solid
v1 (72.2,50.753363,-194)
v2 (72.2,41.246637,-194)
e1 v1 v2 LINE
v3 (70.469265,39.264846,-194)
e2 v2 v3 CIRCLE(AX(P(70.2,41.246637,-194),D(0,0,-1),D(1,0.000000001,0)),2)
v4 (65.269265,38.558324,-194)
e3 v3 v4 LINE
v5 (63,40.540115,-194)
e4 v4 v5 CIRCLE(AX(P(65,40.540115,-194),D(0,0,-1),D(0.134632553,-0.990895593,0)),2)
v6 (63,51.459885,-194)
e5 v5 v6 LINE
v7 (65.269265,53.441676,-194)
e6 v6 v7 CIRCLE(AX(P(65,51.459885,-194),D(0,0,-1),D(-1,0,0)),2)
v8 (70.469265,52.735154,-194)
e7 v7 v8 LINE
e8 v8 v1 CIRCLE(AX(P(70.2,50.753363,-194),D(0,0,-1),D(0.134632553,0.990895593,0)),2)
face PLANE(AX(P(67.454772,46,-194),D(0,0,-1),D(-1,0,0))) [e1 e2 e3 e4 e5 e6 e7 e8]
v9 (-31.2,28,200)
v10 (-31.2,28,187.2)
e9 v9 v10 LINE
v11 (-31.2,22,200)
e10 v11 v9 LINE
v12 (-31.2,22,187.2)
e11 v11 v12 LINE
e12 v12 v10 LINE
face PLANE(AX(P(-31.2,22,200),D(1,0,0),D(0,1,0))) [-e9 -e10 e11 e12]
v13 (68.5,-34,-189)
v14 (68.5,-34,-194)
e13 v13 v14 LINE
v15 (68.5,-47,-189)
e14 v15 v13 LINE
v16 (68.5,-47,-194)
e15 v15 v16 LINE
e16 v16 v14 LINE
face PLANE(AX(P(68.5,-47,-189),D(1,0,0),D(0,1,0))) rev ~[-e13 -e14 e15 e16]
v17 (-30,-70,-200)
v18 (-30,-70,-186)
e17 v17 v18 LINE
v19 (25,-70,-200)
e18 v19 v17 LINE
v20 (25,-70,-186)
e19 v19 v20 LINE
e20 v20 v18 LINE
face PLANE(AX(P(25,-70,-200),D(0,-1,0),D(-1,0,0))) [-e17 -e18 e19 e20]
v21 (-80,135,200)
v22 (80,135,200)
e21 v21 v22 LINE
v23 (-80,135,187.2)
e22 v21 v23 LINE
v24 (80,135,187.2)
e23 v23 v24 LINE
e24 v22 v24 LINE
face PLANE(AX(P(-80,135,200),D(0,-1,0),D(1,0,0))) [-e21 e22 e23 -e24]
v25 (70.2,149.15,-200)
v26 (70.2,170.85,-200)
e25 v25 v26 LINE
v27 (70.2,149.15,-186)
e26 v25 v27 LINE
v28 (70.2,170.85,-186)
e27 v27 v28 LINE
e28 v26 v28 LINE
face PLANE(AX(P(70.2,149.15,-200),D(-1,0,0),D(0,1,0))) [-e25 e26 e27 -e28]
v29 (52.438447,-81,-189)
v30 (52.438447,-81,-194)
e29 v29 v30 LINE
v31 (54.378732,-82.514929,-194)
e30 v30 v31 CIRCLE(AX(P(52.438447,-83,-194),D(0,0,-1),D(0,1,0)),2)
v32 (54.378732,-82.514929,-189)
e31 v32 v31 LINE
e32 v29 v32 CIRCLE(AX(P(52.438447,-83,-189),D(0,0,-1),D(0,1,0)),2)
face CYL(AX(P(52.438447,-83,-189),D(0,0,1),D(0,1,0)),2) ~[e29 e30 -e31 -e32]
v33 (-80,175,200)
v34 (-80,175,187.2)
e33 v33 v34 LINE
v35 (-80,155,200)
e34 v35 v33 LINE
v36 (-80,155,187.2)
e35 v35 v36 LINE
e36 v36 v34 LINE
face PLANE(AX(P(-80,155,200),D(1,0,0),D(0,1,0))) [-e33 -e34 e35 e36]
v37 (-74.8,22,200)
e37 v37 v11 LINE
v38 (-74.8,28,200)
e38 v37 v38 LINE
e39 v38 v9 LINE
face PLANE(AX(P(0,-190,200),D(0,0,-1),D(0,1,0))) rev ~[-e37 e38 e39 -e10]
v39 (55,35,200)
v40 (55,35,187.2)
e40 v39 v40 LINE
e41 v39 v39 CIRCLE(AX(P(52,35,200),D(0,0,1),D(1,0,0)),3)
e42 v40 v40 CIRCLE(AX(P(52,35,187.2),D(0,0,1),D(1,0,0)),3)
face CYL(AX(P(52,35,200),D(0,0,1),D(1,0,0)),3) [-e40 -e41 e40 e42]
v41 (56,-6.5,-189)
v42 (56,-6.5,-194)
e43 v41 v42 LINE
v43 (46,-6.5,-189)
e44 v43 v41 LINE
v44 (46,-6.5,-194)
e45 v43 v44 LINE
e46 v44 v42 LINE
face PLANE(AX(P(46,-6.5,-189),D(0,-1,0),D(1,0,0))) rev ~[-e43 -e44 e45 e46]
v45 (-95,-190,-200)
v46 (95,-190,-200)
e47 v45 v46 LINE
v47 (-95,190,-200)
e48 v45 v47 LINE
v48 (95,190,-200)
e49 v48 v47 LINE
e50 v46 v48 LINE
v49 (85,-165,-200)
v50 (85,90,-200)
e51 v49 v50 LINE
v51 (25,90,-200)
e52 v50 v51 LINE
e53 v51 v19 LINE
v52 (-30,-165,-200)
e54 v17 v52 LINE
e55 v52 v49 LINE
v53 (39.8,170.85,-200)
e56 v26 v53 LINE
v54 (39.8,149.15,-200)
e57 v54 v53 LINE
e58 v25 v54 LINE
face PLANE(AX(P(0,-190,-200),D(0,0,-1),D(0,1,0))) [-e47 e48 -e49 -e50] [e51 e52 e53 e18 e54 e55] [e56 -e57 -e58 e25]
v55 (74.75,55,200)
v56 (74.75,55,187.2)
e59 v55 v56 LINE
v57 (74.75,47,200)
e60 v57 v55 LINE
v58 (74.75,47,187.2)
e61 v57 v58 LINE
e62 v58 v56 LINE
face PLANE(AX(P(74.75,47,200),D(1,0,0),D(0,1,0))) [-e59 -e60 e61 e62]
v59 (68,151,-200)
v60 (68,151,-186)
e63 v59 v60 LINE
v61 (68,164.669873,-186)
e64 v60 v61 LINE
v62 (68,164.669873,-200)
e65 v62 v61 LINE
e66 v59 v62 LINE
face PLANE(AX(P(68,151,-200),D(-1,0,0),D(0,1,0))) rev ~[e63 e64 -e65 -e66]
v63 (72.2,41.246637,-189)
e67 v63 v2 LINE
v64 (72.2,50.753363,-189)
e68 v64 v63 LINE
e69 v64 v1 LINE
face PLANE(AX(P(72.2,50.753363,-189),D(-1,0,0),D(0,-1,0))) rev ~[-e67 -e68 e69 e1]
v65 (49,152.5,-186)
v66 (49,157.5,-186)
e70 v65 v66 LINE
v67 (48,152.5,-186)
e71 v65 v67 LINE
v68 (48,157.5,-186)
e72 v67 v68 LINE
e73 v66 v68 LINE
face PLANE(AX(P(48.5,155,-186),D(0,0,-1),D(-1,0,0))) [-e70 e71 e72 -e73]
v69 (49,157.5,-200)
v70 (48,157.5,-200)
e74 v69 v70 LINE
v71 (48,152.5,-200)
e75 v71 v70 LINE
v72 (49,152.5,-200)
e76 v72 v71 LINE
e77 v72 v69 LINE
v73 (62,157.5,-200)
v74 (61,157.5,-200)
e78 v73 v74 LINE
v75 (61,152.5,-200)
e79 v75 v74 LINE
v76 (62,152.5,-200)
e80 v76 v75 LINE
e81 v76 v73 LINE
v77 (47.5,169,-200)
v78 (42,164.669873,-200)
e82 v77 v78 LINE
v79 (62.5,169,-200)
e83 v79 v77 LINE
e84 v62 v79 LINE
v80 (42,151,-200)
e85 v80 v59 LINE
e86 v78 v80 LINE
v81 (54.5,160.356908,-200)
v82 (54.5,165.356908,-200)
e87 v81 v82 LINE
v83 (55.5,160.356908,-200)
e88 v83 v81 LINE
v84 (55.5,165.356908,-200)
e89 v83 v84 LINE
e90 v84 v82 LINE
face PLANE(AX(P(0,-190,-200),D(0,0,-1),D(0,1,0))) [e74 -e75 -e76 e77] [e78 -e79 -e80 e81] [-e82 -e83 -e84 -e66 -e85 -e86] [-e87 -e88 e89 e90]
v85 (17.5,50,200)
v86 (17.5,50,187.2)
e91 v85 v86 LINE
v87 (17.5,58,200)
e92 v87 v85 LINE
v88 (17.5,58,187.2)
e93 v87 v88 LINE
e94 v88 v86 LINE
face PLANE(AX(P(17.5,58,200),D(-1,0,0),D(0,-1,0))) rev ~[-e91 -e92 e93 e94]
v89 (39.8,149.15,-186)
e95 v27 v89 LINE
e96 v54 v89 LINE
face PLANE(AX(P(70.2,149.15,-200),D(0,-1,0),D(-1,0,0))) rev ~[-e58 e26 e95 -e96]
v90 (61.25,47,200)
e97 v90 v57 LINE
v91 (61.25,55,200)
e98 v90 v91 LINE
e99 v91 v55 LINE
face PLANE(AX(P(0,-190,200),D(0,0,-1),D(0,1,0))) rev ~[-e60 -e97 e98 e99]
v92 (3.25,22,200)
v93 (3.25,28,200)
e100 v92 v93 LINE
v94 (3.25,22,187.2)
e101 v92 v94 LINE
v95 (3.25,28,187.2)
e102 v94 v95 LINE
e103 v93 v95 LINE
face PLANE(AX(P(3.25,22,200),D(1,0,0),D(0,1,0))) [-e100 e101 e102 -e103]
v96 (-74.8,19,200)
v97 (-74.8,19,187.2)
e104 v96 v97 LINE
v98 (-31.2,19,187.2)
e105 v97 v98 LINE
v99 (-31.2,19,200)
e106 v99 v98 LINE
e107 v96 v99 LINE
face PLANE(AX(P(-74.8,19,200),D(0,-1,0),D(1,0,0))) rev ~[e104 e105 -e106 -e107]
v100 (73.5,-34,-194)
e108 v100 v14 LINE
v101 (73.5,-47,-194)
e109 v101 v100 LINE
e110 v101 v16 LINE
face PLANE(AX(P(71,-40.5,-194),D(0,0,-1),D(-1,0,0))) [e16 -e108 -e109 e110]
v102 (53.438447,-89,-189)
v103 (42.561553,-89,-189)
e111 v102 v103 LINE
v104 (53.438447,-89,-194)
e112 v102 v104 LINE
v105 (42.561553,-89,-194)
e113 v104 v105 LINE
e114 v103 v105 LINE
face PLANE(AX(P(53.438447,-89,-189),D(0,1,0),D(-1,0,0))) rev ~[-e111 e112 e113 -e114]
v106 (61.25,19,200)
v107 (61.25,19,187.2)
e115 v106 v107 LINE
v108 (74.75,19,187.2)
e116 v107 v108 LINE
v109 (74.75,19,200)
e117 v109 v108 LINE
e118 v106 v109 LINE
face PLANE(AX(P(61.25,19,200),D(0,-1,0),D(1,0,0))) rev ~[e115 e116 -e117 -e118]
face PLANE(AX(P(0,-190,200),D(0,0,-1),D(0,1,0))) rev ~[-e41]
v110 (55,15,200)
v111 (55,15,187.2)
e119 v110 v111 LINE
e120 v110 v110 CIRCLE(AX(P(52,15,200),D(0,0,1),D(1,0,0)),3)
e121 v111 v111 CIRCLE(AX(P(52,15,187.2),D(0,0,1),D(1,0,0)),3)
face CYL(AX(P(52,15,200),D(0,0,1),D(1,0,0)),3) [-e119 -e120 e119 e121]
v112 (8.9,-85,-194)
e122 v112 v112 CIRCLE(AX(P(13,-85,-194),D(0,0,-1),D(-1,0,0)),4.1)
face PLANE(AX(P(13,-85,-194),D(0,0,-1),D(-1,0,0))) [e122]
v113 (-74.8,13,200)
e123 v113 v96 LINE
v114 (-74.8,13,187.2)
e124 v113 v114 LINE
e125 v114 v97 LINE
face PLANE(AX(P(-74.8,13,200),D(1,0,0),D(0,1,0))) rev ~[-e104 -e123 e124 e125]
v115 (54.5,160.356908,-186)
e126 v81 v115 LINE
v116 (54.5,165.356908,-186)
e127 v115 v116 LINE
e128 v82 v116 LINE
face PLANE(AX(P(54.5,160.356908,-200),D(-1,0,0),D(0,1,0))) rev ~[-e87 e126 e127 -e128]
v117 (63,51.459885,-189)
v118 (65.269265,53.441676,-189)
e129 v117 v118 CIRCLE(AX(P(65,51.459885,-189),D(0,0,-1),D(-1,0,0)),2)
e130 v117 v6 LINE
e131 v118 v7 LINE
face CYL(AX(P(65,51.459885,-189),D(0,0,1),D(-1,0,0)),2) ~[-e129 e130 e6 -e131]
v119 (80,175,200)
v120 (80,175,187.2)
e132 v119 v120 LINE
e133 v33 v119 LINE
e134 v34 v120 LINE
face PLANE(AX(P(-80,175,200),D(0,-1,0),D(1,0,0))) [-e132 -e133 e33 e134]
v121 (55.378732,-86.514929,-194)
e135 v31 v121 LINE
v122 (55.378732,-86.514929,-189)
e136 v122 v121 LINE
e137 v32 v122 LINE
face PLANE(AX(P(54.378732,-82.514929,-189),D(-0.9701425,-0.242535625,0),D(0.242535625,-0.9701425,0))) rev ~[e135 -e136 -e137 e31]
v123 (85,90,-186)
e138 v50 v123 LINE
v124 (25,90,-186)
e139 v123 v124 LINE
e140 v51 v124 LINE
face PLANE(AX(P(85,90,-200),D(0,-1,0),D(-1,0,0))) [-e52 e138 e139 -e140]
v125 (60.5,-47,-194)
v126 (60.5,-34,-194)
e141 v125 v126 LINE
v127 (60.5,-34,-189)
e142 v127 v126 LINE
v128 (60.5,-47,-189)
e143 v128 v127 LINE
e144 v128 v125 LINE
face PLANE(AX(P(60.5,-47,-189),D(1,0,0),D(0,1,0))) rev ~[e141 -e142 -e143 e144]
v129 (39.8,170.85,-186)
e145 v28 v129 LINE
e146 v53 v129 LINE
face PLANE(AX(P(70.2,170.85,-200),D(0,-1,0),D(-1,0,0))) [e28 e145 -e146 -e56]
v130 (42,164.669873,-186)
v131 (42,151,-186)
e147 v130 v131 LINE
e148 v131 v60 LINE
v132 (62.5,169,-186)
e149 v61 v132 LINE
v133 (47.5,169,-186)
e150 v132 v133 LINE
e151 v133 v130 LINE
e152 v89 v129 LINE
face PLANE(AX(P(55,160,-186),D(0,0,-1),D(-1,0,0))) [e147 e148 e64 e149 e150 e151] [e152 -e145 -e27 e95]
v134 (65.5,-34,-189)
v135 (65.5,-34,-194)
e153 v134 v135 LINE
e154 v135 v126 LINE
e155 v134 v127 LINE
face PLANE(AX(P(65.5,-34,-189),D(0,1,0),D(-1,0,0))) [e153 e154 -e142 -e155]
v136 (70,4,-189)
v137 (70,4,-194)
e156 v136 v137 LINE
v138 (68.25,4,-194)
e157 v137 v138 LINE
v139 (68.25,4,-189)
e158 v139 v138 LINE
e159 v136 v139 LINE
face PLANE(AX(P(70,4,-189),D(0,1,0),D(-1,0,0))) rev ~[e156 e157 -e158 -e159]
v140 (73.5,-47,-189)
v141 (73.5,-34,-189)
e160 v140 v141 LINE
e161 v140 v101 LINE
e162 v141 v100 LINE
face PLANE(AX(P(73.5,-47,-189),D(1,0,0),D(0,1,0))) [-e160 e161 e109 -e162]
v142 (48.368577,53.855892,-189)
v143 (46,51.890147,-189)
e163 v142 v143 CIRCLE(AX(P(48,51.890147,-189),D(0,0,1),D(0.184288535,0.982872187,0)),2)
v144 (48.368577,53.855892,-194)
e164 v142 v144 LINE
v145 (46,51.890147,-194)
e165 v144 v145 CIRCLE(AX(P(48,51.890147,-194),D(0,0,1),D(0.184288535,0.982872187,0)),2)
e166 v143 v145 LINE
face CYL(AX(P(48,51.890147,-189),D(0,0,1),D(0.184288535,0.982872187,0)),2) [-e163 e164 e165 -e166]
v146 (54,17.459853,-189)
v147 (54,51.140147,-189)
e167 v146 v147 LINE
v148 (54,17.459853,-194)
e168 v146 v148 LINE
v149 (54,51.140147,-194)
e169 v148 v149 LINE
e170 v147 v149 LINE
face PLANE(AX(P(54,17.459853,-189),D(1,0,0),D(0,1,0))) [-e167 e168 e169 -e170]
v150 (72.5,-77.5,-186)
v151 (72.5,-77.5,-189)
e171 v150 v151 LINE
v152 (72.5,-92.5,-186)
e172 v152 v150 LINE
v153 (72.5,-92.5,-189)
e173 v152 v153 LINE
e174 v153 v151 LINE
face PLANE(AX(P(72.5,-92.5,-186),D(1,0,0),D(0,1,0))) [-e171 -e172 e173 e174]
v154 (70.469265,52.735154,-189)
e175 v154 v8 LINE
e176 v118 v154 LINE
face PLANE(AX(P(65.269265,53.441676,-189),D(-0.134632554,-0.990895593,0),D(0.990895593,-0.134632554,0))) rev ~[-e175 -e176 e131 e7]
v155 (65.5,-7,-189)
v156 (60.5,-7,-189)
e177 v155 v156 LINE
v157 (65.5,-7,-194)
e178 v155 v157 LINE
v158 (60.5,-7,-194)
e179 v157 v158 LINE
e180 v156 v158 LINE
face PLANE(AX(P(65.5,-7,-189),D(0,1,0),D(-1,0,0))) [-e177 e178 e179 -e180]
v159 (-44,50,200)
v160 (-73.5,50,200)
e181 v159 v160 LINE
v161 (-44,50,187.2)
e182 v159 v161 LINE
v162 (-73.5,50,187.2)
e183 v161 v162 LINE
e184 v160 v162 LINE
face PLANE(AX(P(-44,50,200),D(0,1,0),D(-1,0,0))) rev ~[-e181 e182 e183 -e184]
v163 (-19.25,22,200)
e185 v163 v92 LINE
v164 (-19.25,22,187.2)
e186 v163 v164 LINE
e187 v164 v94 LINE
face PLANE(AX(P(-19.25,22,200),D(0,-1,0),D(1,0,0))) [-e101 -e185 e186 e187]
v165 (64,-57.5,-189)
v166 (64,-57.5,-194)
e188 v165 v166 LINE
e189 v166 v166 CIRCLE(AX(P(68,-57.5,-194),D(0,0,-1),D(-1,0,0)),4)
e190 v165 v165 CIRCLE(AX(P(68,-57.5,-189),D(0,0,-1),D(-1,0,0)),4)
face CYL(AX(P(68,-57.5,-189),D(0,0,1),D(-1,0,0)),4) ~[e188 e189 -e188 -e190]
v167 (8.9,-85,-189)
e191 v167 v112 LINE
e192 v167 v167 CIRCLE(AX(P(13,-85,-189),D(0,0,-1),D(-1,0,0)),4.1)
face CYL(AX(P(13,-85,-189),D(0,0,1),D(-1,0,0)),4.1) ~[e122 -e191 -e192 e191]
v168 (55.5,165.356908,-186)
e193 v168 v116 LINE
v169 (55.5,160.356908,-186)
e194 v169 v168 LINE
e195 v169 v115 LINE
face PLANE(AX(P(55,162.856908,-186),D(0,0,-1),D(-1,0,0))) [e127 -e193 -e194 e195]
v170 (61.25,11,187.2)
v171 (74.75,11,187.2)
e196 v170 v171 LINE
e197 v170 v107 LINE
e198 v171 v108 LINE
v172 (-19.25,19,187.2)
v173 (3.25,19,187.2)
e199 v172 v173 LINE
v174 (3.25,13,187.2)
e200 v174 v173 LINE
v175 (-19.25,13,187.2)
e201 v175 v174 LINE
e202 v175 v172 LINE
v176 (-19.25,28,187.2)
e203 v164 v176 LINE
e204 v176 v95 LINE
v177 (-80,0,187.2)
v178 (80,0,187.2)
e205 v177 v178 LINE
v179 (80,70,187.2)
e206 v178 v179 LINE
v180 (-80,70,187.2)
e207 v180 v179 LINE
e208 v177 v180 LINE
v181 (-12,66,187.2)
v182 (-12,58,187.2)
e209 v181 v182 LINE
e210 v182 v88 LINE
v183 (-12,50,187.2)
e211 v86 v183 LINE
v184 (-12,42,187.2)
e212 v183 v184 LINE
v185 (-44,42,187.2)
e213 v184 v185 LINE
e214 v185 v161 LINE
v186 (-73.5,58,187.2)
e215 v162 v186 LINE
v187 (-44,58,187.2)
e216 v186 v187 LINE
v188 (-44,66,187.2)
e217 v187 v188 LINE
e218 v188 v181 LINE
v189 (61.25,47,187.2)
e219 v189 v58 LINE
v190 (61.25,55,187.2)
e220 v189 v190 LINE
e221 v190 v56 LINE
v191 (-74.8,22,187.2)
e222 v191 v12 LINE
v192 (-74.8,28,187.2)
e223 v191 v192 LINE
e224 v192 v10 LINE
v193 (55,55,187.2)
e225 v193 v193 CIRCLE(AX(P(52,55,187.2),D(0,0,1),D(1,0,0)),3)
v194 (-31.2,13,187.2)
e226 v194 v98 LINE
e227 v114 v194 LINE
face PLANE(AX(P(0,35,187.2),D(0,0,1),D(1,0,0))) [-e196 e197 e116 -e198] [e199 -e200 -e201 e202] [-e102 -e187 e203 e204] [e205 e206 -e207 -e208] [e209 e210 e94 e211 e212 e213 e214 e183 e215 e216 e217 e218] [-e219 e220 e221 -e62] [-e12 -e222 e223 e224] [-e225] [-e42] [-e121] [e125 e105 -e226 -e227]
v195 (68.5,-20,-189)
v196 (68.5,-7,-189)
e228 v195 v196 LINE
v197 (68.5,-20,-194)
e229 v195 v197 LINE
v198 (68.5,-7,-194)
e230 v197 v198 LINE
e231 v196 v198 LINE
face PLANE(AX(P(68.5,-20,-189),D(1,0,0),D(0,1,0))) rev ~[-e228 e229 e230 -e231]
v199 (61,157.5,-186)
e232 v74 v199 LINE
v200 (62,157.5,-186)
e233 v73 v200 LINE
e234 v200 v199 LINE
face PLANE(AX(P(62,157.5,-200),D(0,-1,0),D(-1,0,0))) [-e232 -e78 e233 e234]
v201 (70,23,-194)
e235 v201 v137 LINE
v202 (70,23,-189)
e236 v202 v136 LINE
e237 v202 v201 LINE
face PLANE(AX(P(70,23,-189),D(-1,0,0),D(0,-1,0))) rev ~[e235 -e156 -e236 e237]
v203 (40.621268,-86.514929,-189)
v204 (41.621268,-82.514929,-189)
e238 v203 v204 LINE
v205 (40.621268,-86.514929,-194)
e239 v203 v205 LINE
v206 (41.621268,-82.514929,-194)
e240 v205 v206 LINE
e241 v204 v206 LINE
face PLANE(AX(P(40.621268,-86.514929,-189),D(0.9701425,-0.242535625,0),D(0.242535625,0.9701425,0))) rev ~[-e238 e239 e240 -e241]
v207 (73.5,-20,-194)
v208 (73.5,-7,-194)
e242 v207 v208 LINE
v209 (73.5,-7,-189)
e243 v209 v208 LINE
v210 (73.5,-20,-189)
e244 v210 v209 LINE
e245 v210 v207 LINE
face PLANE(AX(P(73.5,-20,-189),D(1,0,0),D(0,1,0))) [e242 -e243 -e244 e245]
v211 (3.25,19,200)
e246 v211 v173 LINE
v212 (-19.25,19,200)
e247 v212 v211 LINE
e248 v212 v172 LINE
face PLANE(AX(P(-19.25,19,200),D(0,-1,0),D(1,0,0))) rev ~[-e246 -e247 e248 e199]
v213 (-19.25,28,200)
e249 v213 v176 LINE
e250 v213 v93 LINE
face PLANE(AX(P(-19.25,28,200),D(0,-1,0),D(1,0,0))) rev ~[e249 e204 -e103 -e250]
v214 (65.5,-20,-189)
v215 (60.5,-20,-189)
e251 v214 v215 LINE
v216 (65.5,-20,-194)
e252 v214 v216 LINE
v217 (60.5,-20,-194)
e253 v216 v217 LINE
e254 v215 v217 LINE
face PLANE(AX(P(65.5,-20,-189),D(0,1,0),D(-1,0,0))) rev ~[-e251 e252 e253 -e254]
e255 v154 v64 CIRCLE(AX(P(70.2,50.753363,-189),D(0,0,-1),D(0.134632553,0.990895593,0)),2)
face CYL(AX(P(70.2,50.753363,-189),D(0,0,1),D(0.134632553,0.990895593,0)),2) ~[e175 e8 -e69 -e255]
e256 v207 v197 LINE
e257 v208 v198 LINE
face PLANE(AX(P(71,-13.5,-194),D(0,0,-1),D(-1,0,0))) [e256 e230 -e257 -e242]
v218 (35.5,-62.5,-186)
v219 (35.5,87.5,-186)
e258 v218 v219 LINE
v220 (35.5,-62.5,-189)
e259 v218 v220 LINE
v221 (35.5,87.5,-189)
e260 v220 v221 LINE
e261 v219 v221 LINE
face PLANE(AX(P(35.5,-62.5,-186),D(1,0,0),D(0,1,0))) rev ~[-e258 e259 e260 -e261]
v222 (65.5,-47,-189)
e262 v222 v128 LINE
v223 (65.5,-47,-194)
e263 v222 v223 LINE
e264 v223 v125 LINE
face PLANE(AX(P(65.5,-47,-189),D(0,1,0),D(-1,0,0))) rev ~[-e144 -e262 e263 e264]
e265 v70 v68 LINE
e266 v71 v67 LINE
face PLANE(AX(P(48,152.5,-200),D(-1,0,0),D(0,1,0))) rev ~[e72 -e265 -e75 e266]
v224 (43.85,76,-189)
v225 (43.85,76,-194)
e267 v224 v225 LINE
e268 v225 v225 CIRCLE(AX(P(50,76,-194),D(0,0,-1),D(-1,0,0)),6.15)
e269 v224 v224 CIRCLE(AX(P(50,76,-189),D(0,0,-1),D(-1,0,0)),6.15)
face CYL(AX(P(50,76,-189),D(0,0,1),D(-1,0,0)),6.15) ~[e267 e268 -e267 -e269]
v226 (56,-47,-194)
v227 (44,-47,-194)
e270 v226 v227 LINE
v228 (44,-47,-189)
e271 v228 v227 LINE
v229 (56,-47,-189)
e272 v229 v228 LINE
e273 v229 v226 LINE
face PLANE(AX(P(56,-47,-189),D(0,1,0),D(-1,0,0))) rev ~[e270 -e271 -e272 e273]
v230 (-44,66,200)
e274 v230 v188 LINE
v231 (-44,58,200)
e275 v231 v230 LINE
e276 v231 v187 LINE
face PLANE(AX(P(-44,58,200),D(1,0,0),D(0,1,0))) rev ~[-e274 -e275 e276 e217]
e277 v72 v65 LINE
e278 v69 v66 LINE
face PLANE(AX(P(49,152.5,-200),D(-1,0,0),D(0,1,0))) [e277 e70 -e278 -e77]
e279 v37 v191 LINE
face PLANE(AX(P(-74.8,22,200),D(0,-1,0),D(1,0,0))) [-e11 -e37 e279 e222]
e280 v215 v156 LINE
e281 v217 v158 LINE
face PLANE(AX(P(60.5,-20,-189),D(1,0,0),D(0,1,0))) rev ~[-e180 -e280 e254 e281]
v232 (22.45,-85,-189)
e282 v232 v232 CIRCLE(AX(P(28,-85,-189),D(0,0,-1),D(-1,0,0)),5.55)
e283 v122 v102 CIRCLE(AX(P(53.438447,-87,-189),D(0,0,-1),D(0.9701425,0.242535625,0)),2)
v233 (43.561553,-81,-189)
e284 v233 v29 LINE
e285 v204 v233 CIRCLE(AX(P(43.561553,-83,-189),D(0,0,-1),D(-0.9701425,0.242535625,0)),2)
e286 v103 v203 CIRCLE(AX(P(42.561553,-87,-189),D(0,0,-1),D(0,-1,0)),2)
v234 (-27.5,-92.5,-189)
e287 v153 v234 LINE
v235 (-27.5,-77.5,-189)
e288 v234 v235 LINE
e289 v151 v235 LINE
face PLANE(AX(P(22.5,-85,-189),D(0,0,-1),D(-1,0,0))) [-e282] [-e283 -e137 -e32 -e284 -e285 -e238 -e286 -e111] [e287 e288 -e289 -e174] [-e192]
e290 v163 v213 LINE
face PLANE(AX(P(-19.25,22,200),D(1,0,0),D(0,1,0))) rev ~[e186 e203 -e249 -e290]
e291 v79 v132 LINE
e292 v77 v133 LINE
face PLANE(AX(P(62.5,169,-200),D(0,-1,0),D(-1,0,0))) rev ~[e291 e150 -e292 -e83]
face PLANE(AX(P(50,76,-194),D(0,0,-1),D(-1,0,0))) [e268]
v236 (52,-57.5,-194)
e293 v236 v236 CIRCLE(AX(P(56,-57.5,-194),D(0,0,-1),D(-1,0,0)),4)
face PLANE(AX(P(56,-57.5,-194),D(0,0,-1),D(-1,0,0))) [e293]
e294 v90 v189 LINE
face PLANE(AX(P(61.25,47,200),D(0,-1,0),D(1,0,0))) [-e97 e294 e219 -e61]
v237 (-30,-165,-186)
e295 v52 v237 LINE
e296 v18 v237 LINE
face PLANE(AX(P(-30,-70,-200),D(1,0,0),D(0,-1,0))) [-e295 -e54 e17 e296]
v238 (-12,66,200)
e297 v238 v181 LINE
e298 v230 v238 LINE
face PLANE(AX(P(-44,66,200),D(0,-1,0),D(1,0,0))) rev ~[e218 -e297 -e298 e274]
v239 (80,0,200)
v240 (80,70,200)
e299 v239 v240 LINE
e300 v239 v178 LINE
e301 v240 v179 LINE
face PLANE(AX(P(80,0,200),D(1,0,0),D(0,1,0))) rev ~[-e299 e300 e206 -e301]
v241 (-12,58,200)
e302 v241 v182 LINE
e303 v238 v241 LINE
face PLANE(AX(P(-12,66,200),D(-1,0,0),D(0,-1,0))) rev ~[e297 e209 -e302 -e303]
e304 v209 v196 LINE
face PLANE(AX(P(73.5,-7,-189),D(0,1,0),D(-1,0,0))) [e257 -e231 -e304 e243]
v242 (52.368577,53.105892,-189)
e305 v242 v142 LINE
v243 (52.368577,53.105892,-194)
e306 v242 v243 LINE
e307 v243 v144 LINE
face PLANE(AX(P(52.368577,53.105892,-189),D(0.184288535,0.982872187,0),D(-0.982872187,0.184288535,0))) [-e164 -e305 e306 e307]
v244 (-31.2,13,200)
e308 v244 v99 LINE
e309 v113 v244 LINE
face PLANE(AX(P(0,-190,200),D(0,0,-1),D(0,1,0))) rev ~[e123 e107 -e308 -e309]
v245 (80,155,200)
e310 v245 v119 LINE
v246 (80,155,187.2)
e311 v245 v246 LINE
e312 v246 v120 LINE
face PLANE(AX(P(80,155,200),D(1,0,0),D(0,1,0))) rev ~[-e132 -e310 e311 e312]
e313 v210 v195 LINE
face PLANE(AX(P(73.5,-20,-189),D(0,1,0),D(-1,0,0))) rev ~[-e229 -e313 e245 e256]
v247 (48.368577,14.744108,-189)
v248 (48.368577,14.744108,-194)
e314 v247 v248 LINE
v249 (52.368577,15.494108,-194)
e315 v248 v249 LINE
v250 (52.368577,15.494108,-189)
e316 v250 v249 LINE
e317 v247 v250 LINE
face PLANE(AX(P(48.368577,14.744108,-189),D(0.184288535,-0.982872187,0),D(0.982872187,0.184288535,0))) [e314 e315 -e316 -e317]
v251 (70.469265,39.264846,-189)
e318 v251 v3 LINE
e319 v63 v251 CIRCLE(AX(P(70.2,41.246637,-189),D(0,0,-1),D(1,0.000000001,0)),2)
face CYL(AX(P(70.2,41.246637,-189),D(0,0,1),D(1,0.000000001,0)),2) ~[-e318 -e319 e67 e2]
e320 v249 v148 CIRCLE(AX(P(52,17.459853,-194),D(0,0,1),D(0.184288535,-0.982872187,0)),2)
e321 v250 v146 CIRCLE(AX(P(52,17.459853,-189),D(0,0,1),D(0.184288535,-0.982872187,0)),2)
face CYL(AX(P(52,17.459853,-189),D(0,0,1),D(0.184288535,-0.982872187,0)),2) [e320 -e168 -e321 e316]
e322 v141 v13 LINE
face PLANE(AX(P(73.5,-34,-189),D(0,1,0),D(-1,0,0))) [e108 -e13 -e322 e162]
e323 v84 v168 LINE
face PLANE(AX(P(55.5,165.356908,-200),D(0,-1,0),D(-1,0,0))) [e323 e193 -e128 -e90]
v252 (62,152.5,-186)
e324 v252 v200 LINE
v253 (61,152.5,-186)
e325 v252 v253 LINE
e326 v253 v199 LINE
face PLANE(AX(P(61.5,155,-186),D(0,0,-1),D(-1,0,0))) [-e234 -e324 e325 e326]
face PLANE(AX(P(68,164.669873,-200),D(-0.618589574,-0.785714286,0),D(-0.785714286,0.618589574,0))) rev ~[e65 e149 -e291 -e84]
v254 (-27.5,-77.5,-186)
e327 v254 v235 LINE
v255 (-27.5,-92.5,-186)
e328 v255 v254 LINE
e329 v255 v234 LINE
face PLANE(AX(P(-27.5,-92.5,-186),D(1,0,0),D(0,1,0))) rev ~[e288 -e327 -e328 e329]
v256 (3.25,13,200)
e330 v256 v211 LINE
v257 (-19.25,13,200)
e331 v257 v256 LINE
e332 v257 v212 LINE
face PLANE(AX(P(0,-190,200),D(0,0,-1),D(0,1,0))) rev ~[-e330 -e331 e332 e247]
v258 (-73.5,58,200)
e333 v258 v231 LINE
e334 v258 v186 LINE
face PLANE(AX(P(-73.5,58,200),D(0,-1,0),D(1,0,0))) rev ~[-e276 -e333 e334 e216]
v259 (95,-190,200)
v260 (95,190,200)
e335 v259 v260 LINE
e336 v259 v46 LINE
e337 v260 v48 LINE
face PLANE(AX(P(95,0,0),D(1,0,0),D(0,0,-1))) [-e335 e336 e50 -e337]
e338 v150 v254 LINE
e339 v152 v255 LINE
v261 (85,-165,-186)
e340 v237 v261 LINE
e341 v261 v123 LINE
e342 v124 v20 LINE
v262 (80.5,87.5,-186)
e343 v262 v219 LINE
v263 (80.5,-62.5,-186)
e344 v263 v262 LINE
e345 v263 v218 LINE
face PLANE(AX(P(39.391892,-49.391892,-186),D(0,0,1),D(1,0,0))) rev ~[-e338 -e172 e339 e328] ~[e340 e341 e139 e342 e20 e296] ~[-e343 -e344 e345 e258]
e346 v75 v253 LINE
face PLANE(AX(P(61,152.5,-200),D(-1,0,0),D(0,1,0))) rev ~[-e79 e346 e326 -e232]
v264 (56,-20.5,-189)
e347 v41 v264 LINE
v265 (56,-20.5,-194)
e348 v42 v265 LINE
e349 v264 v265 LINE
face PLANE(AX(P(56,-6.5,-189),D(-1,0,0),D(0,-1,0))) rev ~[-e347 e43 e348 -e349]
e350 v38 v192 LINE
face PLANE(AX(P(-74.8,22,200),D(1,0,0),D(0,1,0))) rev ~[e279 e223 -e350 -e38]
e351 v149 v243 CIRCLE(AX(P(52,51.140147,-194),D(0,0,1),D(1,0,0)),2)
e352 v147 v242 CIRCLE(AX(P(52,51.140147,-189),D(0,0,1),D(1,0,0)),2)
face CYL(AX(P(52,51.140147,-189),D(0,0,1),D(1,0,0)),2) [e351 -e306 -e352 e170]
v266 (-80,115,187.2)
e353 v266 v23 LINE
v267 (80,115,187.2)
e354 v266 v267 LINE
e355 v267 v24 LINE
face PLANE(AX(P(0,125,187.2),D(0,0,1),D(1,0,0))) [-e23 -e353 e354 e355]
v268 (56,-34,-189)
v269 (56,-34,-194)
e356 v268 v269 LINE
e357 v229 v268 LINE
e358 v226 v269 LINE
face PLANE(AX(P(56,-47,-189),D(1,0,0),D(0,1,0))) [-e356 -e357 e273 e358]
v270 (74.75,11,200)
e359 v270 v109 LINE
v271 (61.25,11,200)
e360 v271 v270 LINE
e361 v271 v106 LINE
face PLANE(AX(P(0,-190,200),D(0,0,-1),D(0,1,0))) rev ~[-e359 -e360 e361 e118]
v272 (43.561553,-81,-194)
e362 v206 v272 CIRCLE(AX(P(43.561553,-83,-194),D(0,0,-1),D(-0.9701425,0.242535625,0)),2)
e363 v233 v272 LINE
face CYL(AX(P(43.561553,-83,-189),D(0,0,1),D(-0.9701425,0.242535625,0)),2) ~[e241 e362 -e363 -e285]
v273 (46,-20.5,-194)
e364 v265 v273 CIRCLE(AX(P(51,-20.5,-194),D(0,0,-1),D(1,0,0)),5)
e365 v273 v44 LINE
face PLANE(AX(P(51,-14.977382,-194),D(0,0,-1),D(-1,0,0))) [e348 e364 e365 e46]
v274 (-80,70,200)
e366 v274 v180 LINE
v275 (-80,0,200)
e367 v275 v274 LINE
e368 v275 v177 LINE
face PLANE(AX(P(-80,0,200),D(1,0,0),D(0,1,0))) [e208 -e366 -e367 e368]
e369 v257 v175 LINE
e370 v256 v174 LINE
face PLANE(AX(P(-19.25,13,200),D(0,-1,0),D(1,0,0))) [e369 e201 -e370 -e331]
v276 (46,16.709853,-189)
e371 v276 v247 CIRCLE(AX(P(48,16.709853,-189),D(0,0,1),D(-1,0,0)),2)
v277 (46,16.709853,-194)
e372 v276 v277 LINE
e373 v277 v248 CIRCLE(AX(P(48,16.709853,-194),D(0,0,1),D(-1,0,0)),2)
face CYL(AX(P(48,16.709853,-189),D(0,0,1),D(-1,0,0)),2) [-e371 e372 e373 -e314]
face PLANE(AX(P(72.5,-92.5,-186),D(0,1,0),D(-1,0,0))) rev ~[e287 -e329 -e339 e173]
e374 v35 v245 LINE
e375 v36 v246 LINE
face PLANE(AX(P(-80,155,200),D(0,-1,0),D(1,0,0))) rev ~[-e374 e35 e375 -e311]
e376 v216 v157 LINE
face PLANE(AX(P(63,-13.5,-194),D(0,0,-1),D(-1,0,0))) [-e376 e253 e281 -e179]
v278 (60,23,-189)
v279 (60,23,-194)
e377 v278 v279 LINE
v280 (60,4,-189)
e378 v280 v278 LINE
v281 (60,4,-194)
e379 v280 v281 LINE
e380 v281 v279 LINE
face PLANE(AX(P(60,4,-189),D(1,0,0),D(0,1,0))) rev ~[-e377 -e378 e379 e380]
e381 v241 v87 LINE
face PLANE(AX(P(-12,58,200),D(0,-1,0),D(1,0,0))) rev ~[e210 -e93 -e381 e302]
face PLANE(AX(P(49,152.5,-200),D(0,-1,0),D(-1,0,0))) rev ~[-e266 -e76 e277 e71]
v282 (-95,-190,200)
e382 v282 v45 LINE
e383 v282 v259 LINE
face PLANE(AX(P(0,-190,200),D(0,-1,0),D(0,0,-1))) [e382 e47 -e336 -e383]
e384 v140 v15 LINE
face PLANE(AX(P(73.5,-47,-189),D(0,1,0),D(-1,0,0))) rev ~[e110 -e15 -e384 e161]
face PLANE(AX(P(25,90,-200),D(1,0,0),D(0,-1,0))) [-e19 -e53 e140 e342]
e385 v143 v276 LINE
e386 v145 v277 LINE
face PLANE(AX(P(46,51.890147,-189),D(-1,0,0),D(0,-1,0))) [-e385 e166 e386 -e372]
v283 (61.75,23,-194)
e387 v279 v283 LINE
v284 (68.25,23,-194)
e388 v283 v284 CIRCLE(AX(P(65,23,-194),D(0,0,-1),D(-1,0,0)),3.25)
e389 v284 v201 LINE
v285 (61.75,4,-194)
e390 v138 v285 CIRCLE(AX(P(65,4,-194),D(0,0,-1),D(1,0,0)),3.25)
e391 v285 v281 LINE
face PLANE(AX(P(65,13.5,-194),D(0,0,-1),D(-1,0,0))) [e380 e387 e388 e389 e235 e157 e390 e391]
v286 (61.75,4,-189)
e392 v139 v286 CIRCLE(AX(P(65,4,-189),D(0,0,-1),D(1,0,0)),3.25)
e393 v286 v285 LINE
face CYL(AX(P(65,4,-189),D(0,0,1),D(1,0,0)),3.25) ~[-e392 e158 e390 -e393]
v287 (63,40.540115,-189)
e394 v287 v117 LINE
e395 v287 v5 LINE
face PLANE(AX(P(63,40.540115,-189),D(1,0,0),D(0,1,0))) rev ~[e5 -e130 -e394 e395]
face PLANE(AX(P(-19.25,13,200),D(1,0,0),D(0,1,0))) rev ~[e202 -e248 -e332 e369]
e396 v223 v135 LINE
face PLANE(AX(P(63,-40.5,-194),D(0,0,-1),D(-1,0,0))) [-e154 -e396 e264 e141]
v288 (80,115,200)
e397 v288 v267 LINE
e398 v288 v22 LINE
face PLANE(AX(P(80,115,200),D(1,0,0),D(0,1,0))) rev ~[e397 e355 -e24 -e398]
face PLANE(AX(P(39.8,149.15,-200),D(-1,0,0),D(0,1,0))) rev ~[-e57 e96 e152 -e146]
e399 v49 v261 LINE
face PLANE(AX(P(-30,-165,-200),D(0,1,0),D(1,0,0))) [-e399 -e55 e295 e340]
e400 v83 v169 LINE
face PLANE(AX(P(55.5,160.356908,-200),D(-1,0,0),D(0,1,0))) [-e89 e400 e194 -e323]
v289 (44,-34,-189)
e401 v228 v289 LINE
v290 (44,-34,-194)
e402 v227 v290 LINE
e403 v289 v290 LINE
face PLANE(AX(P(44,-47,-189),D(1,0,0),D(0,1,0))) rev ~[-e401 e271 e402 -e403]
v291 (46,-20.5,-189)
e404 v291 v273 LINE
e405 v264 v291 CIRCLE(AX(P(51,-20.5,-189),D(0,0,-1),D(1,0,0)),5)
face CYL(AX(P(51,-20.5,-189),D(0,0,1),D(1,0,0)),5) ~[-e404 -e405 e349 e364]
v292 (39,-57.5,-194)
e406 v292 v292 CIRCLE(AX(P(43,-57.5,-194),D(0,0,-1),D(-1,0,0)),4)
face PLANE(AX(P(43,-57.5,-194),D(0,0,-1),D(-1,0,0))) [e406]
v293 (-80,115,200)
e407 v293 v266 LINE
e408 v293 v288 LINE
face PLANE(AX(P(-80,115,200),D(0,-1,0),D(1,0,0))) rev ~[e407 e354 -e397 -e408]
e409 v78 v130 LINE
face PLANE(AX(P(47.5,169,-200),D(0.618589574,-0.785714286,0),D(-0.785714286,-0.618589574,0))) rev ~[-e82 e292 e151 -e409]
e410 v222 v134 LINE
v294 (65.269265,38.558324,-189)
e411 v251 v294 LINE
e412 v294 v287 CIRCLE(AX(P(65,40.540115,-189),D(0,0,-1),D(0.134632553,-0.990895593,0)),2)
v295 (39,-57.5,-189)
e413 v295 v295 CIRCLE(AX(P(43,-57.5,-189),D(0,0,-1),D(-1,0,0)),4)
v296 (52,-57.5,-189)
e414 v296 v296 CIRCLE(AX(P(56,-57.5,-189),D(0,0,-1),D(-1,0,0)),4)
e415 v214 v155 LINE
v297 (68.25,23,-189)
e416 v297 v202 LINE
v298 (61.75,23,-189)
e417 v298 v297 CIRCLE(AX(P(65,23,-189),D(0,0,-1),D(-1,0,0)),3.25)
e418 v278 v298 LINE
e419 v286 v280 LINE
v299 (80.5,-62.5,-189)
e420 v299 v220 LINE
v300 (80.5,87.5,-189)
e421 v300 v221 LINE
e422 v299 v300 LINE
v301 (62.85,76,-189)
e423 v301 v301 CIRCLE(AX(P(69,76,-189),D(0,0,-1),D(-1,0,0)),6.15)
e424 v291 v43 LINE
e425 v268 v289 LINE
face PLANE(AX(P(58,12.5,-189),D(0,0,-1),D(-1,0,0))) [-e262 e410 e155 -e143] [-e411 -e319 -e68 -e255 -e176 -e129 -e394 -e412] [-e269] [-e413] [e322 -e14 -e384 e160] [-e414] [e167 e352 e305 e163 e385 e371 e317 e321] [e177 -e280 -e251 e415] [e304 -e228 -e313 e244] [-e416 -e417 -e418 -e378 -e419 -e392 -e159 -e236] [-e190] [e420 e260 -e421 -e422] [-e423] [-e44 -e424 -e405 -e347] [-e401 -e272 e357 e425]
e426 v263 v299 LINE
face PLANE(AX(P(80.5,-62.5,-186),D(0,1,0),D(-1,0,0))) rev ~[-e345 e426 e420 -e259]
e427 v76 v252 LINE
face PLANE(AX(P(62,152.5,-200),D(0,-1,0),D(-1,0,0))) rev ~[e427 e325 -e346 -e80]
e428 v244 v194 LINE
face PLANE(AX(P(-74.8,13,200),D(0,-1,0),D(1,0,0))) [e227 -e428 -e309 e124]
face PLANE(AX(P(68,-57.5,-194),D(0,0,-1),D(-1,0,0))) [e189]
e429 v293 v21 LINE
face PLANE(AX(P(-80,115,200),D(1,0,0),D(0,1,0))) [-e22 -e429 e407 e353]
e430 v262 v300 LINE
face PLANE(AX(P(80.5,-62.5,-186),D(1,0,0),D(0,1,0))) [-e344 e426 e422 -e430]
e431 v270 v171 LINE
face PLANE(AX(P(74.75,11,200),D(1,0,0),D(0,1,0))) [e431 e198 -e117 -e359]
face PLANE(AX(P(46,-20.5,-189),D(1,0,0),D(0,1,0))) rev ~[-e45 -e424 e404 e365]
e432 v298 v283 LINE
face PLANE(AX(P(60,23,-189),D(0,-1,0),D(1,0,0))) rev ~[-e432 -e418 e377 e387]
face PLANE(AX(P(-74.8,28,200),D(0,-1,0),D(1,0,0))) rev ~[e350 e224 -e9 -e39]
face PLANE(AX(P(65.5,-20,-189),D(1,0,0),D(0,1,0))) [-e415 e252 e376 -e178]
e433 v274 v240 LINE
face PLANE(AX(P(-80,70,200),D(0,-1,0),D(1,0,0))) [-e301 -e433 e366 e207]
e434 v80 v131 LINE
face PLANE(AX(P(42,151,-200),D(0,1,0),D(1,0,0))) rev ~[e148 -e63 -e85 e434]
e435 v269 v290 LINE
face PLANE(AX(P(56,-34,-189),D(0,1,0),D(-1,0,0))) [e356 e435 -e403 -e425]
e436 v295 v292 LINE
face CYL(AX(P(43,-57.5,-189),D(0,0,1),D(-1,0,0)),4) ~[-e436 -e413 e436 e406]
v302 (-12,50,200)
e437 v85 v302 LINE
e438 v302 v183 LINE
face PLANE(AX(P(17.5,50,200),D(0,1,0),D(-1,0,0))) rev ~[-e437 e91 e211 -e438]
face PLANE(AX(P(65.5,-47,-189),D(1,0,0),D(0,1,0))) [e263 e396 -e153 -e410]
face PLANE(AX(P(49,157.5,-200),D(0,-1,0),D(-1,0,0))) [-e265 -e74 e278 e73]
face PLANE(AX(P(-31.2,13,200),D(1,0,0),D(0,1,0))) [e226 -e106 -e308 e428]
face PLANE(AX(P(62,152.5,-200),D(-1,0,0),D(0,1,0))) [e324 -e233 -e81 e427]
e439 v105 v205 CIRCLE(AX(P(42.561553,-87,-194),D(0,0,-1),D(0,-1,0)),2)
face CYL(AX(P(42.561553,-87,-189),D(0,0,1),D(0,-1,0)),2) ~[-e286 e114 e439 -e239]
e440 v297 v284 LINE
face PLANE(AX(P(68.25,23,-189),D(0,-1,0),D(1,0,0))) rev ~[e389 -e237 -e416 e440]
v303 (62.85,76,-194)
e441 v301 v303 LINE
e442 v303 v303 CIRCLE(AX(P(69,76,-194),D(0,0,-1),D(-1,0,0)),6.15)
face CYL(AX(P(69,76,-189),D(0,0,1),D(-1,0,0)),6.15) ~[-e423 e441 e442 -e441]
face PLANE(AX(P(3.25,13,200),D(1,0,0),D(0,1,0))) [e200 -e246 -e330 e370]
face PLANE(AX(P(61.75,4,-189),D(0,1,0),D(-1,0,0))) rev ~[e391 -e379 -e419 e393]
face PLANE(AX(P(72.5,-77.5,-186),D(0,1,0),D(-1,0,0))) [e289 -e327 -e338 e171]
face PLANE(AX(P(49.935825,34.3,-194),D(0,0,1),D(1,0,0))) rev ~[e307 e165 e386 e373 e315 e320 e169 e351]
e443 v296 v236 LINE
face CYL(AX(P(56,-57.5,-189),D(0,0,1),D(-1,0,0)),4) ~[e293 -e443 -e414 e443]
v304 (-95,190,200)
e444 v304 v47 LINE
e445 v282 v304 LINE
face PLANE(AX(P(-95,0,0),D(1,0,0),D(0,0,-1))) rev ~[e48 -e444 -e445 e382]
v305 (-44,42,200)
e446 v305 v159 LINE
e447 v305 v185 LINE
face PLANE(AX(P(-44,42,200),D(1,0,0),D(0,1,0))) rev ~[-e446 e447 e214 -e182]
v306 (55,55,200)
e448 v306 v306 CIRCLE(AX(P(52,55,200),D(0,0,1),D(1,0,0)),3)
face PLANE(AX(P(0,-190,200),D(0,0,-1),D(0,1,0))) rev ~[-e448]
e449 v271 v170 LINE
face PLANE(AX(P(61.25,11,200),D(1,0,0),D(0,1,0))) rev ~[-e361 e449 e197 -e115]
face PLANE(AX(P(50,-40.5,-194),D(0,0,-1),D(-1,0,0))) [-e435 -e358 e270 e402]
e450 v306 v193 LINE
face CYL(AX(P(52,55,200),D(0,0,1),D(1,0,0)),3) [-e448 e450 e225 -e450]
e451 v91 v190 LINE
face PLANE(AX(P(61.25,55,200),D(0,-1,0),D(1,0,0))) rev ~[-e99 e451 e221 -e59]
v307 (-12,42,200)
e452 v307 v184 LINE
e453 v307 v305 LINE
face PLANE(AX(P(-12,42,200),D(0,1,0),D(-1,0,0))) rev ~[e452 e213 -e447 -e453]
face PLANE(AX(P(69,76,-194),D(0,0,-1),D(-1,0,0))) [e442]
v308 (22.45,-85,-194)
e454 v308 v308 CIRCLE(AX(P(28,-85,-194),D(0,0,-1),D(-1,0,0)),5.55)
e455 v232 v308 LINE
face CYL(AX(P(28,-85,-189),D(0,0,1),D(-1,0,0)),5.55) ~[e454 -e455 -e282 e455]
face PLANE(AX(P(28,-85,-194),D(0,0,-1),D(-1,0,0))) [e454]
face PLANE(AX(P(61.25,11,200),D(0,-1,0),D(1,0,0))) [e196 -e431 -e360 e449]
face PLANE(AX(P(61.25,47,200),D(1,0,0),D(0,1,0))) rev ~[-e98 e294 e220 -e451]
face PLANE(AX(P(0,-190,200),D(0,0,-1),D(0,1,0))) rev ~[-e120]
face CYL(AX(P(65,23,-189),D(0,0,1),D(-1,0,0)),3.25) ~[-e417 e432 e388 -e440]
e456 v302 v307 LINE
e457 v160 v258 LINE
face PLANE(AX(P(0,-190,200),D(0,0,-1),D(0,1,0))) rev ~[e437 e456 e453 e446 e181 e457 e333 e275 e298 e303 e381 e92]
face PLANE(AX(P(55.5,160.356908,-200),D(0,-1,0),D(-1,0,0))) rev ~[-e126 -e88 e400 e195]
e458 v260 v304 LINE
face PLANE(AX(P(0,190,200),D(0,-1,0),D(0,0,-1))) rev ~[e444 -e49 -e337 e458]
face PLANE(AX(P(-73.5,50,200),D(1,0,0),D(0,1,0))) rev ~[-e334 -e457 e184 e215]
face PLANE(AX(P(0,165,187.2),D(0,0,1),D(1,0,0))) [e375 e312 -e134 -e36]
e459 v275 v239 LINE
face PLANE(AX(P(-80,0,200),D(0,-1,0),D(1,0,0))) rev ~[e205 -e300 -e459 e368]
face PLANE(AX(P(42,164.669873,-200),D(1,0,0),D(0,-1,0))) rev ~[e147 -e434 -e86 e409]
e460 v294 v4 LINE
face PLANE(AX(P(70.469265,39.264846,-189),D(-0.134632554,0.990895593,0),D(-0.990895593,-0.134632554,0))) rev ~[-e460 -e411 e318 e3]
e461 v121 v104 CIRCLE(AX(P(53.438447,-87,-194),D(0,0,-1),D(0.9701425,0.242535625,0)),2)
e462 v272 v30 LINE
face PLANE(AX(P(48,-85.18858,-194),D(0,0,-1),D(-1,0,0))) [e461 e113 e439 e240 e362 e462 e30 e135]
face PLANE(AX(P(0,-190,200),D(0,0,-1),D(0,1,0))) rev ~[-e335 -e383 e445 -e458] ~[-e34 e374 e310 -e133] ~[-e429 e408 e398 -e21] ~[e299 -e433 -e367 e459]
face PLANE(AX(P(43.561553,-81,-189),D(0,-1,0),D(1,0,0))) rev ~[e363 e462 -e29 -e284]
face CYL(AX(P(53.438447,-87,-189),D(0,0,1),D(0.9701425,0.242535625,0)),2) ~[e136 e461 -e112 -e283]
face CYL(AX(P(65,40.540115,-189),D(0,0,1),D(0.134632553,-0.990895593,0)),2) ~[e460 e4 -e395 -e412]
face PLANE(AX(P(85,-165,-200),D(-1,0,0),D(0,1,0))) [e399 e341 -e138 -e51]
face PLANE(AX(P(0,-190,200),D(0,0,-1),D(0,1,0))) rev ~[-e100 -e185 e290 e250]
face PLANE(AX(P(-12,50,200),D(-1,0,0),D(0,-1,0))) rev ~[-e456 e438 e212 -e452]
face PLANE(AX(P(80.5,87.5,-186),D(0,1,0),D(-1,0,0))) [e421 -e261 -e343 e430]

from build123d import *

# Parameters (mm, degrees)
CROQUIS1_W              = 400
CROQUIS1_H              = 380
SALIENTE_EXTRUIR1_DEPTH = 95
CROQUIS2_W              = 30.4
CROQUIS2_H              = 21.7
CROQUIS2_W_2            = 1
CROQUIS2_H_2            = 5
CORTAR_EXTRUIR1_DEPTH   = 14
CROQUIS3_W              = 45
CROQUIS3_H              = 150
CROQUIS3_W_2            = 100
CROQUIS3_H_2            = 15
SALIENTE_EXTRUIR2_DEPTH = 3
CROQUIS4_R              = 6.15
CROQUIS4_R_2            = 4
CROQUIS4_W              = 5
CROQUIS4_H              = 13
CROQUIS4_W_2            = 12
SALIENTE_EXTRUIR3_DEPTH = 5
CROQUIS5_R              = 4.1
CROQUIS5_R_2            = 5.55
SALIENTE_EXTRUIR4_DEPTH = 5
CROQUIS6_W              = 160
CROQUIS6_H              = 70
CROQUIS6_W_2            = 43.6
CROQUIS6_H_2            = 6
CROQUIS6_W_3            = 22.5
CROQUIS6_R              = 3
CROQUIS6_W_4            = 13.5
CROQUIS6_H_3            = 8
CROQUIS6_H_4            = 20
CORTAR_EXTRUIR2_DEPTH   = 12.8


with BuildPart() as part:
    # Croquis1 → Saliente-Extruir1 (new body, symmetric)
    with BuildSketch(Plane(origin=(0, 0, 0), x_dir=(0, 0, -1), z_dir=(1, 0, 0))):
        Rectangle(CROQUIS1_W, CROQUIS1_H)
    extrude(amount=SALIENTE_EXTRUIR1_DEPTH, both=True)

    # Croquis2 → Cortar-Extruir1 (cut)
    with BuildSketch(Plane(origin=(0, 0, -200), x_dir=(-1, 0, 0), z_dir=(0, 0, -1))):
        with Locations((-55, 160)):
            Rectangle(CROQUIS2_W, CROQUIS2_H)
        Polygon((-42, 151), (-68, 151), (-68, 160), (-68, 164.669872981), (-62.5, 169), (-47.5, 169), (-42, 164.669872981), (-42, 160), align=None, mode=Mode.SUBTRACT)
        with Locations((-55, 162.856907895)):
            Rectangle(CROQUIS2_W_2, CROQUIS2_H_2)
        with Locations((-48.5, 155)):
            Rectangle(CROQUIS2_W_2, CROQUIS2_H_2)
        with Locations((-61.5, 155)):
            Rectangle(CROQUIS2_W_2, CROQUIS2_H_2)
        Polygon((-85, 90), (-25, 90), (-25, -70), (30, -70), (30, -165), (-85, -165), align=None)
    extrude(amount=-CORTAR_EXTRUIR1_DEPTH, mode=Mode.SUBTRACT)

    # Croquis3 → Saliente-Extruir2 (add)
    with BuildSketch(Plane(origin=(0, 0, -186), x_dir=(-1, 0, 0), z_dir=(0, 0, -1))):
        with Locations((-58, 12.5)):
            Rectangle(CROQUIS3_W, CROQUIS3_H)
        with Locations((-22.5, -85)):
            Rectangle(CROQUIS3_W_2, CROQUIS3_H_2)
    extrude(amount=SALIENTE_EXTRUIR2_DEPTH)

    # Croquis4 → Saliente-Extruir3 (add)
    with BuildSketch(Plane(origin=(0, 0, -189), x_dir=(-1, 0, 0), z_dir=(0, 0, -1))):
        with Locations((-69, 76)):
            Circle(CROQUIS4_R)
        with Locations((-50, 76)):
            Circle(CROQUIS4_R)
        with Locations((-68, -57.5)):
            Circle(CROQUIS4_R_2)
        with Locations((-56, -57.5)):
            Circle(CROQUIS4_R_2)
        with Locations((-43, -57.5)):
            Circle(CROQUIS4_R_2)
        with BuildLine():
            Line((-65.269265107, 53.441675937), (-70.469265107, 52.735154197))
            ThreePointArc((-70.469265107, 52.735154197), (-71.706408015, 52.068936991), (-72.2, 50.753363012))
            Line((-72.2, 50.753363012), (-72.2, 41.246636988))
            ThreePointArc((-72.2, 41.246636988), (-71.706408015, 39.931063009), (-70.469265107, 39.264845803))
            Line((-70.469265107, 39.264845803), (-65.269265107, 38.558324063))
            ThreePointArc((-65.269265107, 38.558324063), (-63.684426021, 39.033707234), (-63, 40.540115249))
            Line((-63, 40.540115249), (-63, 51.459884751))
            ThreePointArc((-63, 51.459884751), (-63.684426021, 52.966292766), (-65.269265107, 53.441675937))
        make_face()
        with BuildLine():
            Line((-52.36857707, 53.105891799), (-48.36857707, 53.855891799))
            ThreePointArc((-48.36857707, 53.855891799), (-46.722728326, 53.429165642), (-46, 51.890147425))
            Line((-46, 51.890147425), (-46, 16.709852575))
            ThreePointArc((-46, 16.709852575), (-46.722728326, 15.170834358), (-48.36857707, 14.744108201))
            Line((-48.36857707, 14.744108201), (-52.36857707, 15.494108201))
            ThreePointArc((-52.36857707, 15.494108201), (-53.539018216, 16.1825809), (-54, 17.459852575))
            Line((-54, 17.459852575), (-54, 51.140147425))
            ThreePointArc((-54, 51.140147425), (-53.539018216, 52.4174191), (-52.36857707, 53.105891799))
        make_face()
        with BuildLine():
            Line((-68.25, 23), (-70, 23))
            Line((-70, 23), (-70, 4))
            Line((-70, 4), (-68.25, 4))
            ThreePointArc((-68.25, 4), (-65, 0.75), (-61.75, 4))
            Line((-61.75, 4), (-60, 4))
            Line((-60, 4), (-60, 23))
            Line((-60, 23), (-61.75, 23))
            ThreePointArc((-61.75, 23), (-65, 26.25), (-68.25, 23))
        make_face()
        with Locations((-63, -13.5)):
            Rectangle(CROQUIS4_W, CROQUIS4_H)
        with Locations((-71, -13.5)):
            Rectangle(CROQUIS4_W, CROQUIS4_H)
        with Locations((-63, -40.5)):
            Rectangle(CROQUIS4_W, CROQUIS4_H)
        with Locations((-71, -40.5)):
            Rectangle(CROQUIS4_W, CROQUIS4_H)
        with BuildLine():
            Line((-46, -20.5), (-46, -6.5))
            Line((-46, -6.5), (-56, -6.5))
            Line((-56, -6.5), (-56, -20.5))
            ThreePointArc((-56, -20.5), (-51, -25.5), (-46, -20.5))
        make_face()
        with Locations((-50, -40.5)):
            Rectangle(CROQUIS4_W_2, CROQUIS4_H)
    extrude(amount=SALIENTE_EXTRUIR3_DEPTH)

    # Croquis5 → Saliente-Extruir4 (add)
    with BuildSketch(Plane(origin=(0, 0, -189), x_dir=(-1, 0, 0), z_dir=(0, 0, -1))):
        with Locations((-13, -85)):
            Circle(CROQUIS5_R)
        with Locations((-28, -85)):
            Circle(CROQUIS5_R_2)
        with BuildLine():
            Line((-54.378732187, -82.51492875), (-55.378732187, -86.51492875))
            ThreePointArc((-55.378732187, -86.51492875), (-55.014858063, -88.230824419), (-53.438447187, -89))
            Line((-53.438447187, -89), (-42.561552813, -89))
            ThreePointArc((-42.561552813, -89), (-40.985141937, -88.230824419), (-40.621267813, -86.51492875))
            Line((-40.621267813, -86.51492875), (-41.621267813, -82.51492875))
            ThreePointArc((-41.621267813, -82.51492875), (-42.330728394, -81.423589124), (-43.561552813, -81))
            Line((-43.561552813, -81), (-52.438447187, -81))
            ThreePointArc((-52.438447187, -81), (-53.669271606, -81.423589124), (-54.378732187, -82.51492875))
        make_face()
    extrude(amount=SALIENTE_EXTRUIR4_DEPTH)

    # Croquis6 → Cortar-Extruir2 (cut)
    with BuildSketch(Plane.XY.offset(200)):
        with Locations((0, 35)):
            Rectangle(CROQUIS6_W, CROQUIS6_H)
        with Locations((-53, 16)):
            Rectangle(CROQUIS6_W_2, CROQUIS6_H_2, mode=Mode.SUBTRACT)
        with Locations((-53, 25)):
            Rectangle(CROQUIS6_W_2, CROQUIS6_H_2, mode=Mode.SUBTRACT)
        with Locations((-8, 16)):
            Rectangle(CROQUIS6_W_3, CROQUIS6_H_2, mode=Mode.SUBTRACT)
        with Locations((-8, 25)):
            Rectangle(CROQUIS6_W_3, CROQUIS6_H_2, mode=Mode.SUBTRACT)
        Polygon((17.5, 58), (17.5, 50), (-12, 50), (-12, 42), (-44, 42), (-44, 50), (-73.5, 50), (-73.5, 58), (-44, 58), (-44, 66), (-12, 66), (-12, 58), align=None, mode=Mode.SUBTRACT)
        with Locations((52, 15)):
            Circle(CROQUIS6_R, mode=Mode.SUBTRACT)
        with Locations((68, 15)):
            Rectangle(CROQUIS6_W_4, CROQUIS6_H_3, mode=Mode.SUBTRACT)
        with Locations((52, 35)):
            Circle(CROQUIS6_R, mode=Mode.SUBTRACT)
        with Locations((52, 55)):
            Circle(CROQUIS6_R, mode=Mode.SUBTRACT)
        with Locations((68, 51)):
            Rectangle(CROQUIS6_W_4, CROQUIS6_H_3, mode=Mode.SUBTRACT)
        with Locations((0, 165)):
            Rectangle(CROQUIS6_W, CROQUIS6_H_4)
        with Locations((0, 125)):
            Rectangle(CROQUIS6_W, CROQUIS6_H_4)
    extrude(amount=-CORTAR_EXTRUIR2_DEPTH, mode=Mode.SUBTRACT)


solid = part.part
